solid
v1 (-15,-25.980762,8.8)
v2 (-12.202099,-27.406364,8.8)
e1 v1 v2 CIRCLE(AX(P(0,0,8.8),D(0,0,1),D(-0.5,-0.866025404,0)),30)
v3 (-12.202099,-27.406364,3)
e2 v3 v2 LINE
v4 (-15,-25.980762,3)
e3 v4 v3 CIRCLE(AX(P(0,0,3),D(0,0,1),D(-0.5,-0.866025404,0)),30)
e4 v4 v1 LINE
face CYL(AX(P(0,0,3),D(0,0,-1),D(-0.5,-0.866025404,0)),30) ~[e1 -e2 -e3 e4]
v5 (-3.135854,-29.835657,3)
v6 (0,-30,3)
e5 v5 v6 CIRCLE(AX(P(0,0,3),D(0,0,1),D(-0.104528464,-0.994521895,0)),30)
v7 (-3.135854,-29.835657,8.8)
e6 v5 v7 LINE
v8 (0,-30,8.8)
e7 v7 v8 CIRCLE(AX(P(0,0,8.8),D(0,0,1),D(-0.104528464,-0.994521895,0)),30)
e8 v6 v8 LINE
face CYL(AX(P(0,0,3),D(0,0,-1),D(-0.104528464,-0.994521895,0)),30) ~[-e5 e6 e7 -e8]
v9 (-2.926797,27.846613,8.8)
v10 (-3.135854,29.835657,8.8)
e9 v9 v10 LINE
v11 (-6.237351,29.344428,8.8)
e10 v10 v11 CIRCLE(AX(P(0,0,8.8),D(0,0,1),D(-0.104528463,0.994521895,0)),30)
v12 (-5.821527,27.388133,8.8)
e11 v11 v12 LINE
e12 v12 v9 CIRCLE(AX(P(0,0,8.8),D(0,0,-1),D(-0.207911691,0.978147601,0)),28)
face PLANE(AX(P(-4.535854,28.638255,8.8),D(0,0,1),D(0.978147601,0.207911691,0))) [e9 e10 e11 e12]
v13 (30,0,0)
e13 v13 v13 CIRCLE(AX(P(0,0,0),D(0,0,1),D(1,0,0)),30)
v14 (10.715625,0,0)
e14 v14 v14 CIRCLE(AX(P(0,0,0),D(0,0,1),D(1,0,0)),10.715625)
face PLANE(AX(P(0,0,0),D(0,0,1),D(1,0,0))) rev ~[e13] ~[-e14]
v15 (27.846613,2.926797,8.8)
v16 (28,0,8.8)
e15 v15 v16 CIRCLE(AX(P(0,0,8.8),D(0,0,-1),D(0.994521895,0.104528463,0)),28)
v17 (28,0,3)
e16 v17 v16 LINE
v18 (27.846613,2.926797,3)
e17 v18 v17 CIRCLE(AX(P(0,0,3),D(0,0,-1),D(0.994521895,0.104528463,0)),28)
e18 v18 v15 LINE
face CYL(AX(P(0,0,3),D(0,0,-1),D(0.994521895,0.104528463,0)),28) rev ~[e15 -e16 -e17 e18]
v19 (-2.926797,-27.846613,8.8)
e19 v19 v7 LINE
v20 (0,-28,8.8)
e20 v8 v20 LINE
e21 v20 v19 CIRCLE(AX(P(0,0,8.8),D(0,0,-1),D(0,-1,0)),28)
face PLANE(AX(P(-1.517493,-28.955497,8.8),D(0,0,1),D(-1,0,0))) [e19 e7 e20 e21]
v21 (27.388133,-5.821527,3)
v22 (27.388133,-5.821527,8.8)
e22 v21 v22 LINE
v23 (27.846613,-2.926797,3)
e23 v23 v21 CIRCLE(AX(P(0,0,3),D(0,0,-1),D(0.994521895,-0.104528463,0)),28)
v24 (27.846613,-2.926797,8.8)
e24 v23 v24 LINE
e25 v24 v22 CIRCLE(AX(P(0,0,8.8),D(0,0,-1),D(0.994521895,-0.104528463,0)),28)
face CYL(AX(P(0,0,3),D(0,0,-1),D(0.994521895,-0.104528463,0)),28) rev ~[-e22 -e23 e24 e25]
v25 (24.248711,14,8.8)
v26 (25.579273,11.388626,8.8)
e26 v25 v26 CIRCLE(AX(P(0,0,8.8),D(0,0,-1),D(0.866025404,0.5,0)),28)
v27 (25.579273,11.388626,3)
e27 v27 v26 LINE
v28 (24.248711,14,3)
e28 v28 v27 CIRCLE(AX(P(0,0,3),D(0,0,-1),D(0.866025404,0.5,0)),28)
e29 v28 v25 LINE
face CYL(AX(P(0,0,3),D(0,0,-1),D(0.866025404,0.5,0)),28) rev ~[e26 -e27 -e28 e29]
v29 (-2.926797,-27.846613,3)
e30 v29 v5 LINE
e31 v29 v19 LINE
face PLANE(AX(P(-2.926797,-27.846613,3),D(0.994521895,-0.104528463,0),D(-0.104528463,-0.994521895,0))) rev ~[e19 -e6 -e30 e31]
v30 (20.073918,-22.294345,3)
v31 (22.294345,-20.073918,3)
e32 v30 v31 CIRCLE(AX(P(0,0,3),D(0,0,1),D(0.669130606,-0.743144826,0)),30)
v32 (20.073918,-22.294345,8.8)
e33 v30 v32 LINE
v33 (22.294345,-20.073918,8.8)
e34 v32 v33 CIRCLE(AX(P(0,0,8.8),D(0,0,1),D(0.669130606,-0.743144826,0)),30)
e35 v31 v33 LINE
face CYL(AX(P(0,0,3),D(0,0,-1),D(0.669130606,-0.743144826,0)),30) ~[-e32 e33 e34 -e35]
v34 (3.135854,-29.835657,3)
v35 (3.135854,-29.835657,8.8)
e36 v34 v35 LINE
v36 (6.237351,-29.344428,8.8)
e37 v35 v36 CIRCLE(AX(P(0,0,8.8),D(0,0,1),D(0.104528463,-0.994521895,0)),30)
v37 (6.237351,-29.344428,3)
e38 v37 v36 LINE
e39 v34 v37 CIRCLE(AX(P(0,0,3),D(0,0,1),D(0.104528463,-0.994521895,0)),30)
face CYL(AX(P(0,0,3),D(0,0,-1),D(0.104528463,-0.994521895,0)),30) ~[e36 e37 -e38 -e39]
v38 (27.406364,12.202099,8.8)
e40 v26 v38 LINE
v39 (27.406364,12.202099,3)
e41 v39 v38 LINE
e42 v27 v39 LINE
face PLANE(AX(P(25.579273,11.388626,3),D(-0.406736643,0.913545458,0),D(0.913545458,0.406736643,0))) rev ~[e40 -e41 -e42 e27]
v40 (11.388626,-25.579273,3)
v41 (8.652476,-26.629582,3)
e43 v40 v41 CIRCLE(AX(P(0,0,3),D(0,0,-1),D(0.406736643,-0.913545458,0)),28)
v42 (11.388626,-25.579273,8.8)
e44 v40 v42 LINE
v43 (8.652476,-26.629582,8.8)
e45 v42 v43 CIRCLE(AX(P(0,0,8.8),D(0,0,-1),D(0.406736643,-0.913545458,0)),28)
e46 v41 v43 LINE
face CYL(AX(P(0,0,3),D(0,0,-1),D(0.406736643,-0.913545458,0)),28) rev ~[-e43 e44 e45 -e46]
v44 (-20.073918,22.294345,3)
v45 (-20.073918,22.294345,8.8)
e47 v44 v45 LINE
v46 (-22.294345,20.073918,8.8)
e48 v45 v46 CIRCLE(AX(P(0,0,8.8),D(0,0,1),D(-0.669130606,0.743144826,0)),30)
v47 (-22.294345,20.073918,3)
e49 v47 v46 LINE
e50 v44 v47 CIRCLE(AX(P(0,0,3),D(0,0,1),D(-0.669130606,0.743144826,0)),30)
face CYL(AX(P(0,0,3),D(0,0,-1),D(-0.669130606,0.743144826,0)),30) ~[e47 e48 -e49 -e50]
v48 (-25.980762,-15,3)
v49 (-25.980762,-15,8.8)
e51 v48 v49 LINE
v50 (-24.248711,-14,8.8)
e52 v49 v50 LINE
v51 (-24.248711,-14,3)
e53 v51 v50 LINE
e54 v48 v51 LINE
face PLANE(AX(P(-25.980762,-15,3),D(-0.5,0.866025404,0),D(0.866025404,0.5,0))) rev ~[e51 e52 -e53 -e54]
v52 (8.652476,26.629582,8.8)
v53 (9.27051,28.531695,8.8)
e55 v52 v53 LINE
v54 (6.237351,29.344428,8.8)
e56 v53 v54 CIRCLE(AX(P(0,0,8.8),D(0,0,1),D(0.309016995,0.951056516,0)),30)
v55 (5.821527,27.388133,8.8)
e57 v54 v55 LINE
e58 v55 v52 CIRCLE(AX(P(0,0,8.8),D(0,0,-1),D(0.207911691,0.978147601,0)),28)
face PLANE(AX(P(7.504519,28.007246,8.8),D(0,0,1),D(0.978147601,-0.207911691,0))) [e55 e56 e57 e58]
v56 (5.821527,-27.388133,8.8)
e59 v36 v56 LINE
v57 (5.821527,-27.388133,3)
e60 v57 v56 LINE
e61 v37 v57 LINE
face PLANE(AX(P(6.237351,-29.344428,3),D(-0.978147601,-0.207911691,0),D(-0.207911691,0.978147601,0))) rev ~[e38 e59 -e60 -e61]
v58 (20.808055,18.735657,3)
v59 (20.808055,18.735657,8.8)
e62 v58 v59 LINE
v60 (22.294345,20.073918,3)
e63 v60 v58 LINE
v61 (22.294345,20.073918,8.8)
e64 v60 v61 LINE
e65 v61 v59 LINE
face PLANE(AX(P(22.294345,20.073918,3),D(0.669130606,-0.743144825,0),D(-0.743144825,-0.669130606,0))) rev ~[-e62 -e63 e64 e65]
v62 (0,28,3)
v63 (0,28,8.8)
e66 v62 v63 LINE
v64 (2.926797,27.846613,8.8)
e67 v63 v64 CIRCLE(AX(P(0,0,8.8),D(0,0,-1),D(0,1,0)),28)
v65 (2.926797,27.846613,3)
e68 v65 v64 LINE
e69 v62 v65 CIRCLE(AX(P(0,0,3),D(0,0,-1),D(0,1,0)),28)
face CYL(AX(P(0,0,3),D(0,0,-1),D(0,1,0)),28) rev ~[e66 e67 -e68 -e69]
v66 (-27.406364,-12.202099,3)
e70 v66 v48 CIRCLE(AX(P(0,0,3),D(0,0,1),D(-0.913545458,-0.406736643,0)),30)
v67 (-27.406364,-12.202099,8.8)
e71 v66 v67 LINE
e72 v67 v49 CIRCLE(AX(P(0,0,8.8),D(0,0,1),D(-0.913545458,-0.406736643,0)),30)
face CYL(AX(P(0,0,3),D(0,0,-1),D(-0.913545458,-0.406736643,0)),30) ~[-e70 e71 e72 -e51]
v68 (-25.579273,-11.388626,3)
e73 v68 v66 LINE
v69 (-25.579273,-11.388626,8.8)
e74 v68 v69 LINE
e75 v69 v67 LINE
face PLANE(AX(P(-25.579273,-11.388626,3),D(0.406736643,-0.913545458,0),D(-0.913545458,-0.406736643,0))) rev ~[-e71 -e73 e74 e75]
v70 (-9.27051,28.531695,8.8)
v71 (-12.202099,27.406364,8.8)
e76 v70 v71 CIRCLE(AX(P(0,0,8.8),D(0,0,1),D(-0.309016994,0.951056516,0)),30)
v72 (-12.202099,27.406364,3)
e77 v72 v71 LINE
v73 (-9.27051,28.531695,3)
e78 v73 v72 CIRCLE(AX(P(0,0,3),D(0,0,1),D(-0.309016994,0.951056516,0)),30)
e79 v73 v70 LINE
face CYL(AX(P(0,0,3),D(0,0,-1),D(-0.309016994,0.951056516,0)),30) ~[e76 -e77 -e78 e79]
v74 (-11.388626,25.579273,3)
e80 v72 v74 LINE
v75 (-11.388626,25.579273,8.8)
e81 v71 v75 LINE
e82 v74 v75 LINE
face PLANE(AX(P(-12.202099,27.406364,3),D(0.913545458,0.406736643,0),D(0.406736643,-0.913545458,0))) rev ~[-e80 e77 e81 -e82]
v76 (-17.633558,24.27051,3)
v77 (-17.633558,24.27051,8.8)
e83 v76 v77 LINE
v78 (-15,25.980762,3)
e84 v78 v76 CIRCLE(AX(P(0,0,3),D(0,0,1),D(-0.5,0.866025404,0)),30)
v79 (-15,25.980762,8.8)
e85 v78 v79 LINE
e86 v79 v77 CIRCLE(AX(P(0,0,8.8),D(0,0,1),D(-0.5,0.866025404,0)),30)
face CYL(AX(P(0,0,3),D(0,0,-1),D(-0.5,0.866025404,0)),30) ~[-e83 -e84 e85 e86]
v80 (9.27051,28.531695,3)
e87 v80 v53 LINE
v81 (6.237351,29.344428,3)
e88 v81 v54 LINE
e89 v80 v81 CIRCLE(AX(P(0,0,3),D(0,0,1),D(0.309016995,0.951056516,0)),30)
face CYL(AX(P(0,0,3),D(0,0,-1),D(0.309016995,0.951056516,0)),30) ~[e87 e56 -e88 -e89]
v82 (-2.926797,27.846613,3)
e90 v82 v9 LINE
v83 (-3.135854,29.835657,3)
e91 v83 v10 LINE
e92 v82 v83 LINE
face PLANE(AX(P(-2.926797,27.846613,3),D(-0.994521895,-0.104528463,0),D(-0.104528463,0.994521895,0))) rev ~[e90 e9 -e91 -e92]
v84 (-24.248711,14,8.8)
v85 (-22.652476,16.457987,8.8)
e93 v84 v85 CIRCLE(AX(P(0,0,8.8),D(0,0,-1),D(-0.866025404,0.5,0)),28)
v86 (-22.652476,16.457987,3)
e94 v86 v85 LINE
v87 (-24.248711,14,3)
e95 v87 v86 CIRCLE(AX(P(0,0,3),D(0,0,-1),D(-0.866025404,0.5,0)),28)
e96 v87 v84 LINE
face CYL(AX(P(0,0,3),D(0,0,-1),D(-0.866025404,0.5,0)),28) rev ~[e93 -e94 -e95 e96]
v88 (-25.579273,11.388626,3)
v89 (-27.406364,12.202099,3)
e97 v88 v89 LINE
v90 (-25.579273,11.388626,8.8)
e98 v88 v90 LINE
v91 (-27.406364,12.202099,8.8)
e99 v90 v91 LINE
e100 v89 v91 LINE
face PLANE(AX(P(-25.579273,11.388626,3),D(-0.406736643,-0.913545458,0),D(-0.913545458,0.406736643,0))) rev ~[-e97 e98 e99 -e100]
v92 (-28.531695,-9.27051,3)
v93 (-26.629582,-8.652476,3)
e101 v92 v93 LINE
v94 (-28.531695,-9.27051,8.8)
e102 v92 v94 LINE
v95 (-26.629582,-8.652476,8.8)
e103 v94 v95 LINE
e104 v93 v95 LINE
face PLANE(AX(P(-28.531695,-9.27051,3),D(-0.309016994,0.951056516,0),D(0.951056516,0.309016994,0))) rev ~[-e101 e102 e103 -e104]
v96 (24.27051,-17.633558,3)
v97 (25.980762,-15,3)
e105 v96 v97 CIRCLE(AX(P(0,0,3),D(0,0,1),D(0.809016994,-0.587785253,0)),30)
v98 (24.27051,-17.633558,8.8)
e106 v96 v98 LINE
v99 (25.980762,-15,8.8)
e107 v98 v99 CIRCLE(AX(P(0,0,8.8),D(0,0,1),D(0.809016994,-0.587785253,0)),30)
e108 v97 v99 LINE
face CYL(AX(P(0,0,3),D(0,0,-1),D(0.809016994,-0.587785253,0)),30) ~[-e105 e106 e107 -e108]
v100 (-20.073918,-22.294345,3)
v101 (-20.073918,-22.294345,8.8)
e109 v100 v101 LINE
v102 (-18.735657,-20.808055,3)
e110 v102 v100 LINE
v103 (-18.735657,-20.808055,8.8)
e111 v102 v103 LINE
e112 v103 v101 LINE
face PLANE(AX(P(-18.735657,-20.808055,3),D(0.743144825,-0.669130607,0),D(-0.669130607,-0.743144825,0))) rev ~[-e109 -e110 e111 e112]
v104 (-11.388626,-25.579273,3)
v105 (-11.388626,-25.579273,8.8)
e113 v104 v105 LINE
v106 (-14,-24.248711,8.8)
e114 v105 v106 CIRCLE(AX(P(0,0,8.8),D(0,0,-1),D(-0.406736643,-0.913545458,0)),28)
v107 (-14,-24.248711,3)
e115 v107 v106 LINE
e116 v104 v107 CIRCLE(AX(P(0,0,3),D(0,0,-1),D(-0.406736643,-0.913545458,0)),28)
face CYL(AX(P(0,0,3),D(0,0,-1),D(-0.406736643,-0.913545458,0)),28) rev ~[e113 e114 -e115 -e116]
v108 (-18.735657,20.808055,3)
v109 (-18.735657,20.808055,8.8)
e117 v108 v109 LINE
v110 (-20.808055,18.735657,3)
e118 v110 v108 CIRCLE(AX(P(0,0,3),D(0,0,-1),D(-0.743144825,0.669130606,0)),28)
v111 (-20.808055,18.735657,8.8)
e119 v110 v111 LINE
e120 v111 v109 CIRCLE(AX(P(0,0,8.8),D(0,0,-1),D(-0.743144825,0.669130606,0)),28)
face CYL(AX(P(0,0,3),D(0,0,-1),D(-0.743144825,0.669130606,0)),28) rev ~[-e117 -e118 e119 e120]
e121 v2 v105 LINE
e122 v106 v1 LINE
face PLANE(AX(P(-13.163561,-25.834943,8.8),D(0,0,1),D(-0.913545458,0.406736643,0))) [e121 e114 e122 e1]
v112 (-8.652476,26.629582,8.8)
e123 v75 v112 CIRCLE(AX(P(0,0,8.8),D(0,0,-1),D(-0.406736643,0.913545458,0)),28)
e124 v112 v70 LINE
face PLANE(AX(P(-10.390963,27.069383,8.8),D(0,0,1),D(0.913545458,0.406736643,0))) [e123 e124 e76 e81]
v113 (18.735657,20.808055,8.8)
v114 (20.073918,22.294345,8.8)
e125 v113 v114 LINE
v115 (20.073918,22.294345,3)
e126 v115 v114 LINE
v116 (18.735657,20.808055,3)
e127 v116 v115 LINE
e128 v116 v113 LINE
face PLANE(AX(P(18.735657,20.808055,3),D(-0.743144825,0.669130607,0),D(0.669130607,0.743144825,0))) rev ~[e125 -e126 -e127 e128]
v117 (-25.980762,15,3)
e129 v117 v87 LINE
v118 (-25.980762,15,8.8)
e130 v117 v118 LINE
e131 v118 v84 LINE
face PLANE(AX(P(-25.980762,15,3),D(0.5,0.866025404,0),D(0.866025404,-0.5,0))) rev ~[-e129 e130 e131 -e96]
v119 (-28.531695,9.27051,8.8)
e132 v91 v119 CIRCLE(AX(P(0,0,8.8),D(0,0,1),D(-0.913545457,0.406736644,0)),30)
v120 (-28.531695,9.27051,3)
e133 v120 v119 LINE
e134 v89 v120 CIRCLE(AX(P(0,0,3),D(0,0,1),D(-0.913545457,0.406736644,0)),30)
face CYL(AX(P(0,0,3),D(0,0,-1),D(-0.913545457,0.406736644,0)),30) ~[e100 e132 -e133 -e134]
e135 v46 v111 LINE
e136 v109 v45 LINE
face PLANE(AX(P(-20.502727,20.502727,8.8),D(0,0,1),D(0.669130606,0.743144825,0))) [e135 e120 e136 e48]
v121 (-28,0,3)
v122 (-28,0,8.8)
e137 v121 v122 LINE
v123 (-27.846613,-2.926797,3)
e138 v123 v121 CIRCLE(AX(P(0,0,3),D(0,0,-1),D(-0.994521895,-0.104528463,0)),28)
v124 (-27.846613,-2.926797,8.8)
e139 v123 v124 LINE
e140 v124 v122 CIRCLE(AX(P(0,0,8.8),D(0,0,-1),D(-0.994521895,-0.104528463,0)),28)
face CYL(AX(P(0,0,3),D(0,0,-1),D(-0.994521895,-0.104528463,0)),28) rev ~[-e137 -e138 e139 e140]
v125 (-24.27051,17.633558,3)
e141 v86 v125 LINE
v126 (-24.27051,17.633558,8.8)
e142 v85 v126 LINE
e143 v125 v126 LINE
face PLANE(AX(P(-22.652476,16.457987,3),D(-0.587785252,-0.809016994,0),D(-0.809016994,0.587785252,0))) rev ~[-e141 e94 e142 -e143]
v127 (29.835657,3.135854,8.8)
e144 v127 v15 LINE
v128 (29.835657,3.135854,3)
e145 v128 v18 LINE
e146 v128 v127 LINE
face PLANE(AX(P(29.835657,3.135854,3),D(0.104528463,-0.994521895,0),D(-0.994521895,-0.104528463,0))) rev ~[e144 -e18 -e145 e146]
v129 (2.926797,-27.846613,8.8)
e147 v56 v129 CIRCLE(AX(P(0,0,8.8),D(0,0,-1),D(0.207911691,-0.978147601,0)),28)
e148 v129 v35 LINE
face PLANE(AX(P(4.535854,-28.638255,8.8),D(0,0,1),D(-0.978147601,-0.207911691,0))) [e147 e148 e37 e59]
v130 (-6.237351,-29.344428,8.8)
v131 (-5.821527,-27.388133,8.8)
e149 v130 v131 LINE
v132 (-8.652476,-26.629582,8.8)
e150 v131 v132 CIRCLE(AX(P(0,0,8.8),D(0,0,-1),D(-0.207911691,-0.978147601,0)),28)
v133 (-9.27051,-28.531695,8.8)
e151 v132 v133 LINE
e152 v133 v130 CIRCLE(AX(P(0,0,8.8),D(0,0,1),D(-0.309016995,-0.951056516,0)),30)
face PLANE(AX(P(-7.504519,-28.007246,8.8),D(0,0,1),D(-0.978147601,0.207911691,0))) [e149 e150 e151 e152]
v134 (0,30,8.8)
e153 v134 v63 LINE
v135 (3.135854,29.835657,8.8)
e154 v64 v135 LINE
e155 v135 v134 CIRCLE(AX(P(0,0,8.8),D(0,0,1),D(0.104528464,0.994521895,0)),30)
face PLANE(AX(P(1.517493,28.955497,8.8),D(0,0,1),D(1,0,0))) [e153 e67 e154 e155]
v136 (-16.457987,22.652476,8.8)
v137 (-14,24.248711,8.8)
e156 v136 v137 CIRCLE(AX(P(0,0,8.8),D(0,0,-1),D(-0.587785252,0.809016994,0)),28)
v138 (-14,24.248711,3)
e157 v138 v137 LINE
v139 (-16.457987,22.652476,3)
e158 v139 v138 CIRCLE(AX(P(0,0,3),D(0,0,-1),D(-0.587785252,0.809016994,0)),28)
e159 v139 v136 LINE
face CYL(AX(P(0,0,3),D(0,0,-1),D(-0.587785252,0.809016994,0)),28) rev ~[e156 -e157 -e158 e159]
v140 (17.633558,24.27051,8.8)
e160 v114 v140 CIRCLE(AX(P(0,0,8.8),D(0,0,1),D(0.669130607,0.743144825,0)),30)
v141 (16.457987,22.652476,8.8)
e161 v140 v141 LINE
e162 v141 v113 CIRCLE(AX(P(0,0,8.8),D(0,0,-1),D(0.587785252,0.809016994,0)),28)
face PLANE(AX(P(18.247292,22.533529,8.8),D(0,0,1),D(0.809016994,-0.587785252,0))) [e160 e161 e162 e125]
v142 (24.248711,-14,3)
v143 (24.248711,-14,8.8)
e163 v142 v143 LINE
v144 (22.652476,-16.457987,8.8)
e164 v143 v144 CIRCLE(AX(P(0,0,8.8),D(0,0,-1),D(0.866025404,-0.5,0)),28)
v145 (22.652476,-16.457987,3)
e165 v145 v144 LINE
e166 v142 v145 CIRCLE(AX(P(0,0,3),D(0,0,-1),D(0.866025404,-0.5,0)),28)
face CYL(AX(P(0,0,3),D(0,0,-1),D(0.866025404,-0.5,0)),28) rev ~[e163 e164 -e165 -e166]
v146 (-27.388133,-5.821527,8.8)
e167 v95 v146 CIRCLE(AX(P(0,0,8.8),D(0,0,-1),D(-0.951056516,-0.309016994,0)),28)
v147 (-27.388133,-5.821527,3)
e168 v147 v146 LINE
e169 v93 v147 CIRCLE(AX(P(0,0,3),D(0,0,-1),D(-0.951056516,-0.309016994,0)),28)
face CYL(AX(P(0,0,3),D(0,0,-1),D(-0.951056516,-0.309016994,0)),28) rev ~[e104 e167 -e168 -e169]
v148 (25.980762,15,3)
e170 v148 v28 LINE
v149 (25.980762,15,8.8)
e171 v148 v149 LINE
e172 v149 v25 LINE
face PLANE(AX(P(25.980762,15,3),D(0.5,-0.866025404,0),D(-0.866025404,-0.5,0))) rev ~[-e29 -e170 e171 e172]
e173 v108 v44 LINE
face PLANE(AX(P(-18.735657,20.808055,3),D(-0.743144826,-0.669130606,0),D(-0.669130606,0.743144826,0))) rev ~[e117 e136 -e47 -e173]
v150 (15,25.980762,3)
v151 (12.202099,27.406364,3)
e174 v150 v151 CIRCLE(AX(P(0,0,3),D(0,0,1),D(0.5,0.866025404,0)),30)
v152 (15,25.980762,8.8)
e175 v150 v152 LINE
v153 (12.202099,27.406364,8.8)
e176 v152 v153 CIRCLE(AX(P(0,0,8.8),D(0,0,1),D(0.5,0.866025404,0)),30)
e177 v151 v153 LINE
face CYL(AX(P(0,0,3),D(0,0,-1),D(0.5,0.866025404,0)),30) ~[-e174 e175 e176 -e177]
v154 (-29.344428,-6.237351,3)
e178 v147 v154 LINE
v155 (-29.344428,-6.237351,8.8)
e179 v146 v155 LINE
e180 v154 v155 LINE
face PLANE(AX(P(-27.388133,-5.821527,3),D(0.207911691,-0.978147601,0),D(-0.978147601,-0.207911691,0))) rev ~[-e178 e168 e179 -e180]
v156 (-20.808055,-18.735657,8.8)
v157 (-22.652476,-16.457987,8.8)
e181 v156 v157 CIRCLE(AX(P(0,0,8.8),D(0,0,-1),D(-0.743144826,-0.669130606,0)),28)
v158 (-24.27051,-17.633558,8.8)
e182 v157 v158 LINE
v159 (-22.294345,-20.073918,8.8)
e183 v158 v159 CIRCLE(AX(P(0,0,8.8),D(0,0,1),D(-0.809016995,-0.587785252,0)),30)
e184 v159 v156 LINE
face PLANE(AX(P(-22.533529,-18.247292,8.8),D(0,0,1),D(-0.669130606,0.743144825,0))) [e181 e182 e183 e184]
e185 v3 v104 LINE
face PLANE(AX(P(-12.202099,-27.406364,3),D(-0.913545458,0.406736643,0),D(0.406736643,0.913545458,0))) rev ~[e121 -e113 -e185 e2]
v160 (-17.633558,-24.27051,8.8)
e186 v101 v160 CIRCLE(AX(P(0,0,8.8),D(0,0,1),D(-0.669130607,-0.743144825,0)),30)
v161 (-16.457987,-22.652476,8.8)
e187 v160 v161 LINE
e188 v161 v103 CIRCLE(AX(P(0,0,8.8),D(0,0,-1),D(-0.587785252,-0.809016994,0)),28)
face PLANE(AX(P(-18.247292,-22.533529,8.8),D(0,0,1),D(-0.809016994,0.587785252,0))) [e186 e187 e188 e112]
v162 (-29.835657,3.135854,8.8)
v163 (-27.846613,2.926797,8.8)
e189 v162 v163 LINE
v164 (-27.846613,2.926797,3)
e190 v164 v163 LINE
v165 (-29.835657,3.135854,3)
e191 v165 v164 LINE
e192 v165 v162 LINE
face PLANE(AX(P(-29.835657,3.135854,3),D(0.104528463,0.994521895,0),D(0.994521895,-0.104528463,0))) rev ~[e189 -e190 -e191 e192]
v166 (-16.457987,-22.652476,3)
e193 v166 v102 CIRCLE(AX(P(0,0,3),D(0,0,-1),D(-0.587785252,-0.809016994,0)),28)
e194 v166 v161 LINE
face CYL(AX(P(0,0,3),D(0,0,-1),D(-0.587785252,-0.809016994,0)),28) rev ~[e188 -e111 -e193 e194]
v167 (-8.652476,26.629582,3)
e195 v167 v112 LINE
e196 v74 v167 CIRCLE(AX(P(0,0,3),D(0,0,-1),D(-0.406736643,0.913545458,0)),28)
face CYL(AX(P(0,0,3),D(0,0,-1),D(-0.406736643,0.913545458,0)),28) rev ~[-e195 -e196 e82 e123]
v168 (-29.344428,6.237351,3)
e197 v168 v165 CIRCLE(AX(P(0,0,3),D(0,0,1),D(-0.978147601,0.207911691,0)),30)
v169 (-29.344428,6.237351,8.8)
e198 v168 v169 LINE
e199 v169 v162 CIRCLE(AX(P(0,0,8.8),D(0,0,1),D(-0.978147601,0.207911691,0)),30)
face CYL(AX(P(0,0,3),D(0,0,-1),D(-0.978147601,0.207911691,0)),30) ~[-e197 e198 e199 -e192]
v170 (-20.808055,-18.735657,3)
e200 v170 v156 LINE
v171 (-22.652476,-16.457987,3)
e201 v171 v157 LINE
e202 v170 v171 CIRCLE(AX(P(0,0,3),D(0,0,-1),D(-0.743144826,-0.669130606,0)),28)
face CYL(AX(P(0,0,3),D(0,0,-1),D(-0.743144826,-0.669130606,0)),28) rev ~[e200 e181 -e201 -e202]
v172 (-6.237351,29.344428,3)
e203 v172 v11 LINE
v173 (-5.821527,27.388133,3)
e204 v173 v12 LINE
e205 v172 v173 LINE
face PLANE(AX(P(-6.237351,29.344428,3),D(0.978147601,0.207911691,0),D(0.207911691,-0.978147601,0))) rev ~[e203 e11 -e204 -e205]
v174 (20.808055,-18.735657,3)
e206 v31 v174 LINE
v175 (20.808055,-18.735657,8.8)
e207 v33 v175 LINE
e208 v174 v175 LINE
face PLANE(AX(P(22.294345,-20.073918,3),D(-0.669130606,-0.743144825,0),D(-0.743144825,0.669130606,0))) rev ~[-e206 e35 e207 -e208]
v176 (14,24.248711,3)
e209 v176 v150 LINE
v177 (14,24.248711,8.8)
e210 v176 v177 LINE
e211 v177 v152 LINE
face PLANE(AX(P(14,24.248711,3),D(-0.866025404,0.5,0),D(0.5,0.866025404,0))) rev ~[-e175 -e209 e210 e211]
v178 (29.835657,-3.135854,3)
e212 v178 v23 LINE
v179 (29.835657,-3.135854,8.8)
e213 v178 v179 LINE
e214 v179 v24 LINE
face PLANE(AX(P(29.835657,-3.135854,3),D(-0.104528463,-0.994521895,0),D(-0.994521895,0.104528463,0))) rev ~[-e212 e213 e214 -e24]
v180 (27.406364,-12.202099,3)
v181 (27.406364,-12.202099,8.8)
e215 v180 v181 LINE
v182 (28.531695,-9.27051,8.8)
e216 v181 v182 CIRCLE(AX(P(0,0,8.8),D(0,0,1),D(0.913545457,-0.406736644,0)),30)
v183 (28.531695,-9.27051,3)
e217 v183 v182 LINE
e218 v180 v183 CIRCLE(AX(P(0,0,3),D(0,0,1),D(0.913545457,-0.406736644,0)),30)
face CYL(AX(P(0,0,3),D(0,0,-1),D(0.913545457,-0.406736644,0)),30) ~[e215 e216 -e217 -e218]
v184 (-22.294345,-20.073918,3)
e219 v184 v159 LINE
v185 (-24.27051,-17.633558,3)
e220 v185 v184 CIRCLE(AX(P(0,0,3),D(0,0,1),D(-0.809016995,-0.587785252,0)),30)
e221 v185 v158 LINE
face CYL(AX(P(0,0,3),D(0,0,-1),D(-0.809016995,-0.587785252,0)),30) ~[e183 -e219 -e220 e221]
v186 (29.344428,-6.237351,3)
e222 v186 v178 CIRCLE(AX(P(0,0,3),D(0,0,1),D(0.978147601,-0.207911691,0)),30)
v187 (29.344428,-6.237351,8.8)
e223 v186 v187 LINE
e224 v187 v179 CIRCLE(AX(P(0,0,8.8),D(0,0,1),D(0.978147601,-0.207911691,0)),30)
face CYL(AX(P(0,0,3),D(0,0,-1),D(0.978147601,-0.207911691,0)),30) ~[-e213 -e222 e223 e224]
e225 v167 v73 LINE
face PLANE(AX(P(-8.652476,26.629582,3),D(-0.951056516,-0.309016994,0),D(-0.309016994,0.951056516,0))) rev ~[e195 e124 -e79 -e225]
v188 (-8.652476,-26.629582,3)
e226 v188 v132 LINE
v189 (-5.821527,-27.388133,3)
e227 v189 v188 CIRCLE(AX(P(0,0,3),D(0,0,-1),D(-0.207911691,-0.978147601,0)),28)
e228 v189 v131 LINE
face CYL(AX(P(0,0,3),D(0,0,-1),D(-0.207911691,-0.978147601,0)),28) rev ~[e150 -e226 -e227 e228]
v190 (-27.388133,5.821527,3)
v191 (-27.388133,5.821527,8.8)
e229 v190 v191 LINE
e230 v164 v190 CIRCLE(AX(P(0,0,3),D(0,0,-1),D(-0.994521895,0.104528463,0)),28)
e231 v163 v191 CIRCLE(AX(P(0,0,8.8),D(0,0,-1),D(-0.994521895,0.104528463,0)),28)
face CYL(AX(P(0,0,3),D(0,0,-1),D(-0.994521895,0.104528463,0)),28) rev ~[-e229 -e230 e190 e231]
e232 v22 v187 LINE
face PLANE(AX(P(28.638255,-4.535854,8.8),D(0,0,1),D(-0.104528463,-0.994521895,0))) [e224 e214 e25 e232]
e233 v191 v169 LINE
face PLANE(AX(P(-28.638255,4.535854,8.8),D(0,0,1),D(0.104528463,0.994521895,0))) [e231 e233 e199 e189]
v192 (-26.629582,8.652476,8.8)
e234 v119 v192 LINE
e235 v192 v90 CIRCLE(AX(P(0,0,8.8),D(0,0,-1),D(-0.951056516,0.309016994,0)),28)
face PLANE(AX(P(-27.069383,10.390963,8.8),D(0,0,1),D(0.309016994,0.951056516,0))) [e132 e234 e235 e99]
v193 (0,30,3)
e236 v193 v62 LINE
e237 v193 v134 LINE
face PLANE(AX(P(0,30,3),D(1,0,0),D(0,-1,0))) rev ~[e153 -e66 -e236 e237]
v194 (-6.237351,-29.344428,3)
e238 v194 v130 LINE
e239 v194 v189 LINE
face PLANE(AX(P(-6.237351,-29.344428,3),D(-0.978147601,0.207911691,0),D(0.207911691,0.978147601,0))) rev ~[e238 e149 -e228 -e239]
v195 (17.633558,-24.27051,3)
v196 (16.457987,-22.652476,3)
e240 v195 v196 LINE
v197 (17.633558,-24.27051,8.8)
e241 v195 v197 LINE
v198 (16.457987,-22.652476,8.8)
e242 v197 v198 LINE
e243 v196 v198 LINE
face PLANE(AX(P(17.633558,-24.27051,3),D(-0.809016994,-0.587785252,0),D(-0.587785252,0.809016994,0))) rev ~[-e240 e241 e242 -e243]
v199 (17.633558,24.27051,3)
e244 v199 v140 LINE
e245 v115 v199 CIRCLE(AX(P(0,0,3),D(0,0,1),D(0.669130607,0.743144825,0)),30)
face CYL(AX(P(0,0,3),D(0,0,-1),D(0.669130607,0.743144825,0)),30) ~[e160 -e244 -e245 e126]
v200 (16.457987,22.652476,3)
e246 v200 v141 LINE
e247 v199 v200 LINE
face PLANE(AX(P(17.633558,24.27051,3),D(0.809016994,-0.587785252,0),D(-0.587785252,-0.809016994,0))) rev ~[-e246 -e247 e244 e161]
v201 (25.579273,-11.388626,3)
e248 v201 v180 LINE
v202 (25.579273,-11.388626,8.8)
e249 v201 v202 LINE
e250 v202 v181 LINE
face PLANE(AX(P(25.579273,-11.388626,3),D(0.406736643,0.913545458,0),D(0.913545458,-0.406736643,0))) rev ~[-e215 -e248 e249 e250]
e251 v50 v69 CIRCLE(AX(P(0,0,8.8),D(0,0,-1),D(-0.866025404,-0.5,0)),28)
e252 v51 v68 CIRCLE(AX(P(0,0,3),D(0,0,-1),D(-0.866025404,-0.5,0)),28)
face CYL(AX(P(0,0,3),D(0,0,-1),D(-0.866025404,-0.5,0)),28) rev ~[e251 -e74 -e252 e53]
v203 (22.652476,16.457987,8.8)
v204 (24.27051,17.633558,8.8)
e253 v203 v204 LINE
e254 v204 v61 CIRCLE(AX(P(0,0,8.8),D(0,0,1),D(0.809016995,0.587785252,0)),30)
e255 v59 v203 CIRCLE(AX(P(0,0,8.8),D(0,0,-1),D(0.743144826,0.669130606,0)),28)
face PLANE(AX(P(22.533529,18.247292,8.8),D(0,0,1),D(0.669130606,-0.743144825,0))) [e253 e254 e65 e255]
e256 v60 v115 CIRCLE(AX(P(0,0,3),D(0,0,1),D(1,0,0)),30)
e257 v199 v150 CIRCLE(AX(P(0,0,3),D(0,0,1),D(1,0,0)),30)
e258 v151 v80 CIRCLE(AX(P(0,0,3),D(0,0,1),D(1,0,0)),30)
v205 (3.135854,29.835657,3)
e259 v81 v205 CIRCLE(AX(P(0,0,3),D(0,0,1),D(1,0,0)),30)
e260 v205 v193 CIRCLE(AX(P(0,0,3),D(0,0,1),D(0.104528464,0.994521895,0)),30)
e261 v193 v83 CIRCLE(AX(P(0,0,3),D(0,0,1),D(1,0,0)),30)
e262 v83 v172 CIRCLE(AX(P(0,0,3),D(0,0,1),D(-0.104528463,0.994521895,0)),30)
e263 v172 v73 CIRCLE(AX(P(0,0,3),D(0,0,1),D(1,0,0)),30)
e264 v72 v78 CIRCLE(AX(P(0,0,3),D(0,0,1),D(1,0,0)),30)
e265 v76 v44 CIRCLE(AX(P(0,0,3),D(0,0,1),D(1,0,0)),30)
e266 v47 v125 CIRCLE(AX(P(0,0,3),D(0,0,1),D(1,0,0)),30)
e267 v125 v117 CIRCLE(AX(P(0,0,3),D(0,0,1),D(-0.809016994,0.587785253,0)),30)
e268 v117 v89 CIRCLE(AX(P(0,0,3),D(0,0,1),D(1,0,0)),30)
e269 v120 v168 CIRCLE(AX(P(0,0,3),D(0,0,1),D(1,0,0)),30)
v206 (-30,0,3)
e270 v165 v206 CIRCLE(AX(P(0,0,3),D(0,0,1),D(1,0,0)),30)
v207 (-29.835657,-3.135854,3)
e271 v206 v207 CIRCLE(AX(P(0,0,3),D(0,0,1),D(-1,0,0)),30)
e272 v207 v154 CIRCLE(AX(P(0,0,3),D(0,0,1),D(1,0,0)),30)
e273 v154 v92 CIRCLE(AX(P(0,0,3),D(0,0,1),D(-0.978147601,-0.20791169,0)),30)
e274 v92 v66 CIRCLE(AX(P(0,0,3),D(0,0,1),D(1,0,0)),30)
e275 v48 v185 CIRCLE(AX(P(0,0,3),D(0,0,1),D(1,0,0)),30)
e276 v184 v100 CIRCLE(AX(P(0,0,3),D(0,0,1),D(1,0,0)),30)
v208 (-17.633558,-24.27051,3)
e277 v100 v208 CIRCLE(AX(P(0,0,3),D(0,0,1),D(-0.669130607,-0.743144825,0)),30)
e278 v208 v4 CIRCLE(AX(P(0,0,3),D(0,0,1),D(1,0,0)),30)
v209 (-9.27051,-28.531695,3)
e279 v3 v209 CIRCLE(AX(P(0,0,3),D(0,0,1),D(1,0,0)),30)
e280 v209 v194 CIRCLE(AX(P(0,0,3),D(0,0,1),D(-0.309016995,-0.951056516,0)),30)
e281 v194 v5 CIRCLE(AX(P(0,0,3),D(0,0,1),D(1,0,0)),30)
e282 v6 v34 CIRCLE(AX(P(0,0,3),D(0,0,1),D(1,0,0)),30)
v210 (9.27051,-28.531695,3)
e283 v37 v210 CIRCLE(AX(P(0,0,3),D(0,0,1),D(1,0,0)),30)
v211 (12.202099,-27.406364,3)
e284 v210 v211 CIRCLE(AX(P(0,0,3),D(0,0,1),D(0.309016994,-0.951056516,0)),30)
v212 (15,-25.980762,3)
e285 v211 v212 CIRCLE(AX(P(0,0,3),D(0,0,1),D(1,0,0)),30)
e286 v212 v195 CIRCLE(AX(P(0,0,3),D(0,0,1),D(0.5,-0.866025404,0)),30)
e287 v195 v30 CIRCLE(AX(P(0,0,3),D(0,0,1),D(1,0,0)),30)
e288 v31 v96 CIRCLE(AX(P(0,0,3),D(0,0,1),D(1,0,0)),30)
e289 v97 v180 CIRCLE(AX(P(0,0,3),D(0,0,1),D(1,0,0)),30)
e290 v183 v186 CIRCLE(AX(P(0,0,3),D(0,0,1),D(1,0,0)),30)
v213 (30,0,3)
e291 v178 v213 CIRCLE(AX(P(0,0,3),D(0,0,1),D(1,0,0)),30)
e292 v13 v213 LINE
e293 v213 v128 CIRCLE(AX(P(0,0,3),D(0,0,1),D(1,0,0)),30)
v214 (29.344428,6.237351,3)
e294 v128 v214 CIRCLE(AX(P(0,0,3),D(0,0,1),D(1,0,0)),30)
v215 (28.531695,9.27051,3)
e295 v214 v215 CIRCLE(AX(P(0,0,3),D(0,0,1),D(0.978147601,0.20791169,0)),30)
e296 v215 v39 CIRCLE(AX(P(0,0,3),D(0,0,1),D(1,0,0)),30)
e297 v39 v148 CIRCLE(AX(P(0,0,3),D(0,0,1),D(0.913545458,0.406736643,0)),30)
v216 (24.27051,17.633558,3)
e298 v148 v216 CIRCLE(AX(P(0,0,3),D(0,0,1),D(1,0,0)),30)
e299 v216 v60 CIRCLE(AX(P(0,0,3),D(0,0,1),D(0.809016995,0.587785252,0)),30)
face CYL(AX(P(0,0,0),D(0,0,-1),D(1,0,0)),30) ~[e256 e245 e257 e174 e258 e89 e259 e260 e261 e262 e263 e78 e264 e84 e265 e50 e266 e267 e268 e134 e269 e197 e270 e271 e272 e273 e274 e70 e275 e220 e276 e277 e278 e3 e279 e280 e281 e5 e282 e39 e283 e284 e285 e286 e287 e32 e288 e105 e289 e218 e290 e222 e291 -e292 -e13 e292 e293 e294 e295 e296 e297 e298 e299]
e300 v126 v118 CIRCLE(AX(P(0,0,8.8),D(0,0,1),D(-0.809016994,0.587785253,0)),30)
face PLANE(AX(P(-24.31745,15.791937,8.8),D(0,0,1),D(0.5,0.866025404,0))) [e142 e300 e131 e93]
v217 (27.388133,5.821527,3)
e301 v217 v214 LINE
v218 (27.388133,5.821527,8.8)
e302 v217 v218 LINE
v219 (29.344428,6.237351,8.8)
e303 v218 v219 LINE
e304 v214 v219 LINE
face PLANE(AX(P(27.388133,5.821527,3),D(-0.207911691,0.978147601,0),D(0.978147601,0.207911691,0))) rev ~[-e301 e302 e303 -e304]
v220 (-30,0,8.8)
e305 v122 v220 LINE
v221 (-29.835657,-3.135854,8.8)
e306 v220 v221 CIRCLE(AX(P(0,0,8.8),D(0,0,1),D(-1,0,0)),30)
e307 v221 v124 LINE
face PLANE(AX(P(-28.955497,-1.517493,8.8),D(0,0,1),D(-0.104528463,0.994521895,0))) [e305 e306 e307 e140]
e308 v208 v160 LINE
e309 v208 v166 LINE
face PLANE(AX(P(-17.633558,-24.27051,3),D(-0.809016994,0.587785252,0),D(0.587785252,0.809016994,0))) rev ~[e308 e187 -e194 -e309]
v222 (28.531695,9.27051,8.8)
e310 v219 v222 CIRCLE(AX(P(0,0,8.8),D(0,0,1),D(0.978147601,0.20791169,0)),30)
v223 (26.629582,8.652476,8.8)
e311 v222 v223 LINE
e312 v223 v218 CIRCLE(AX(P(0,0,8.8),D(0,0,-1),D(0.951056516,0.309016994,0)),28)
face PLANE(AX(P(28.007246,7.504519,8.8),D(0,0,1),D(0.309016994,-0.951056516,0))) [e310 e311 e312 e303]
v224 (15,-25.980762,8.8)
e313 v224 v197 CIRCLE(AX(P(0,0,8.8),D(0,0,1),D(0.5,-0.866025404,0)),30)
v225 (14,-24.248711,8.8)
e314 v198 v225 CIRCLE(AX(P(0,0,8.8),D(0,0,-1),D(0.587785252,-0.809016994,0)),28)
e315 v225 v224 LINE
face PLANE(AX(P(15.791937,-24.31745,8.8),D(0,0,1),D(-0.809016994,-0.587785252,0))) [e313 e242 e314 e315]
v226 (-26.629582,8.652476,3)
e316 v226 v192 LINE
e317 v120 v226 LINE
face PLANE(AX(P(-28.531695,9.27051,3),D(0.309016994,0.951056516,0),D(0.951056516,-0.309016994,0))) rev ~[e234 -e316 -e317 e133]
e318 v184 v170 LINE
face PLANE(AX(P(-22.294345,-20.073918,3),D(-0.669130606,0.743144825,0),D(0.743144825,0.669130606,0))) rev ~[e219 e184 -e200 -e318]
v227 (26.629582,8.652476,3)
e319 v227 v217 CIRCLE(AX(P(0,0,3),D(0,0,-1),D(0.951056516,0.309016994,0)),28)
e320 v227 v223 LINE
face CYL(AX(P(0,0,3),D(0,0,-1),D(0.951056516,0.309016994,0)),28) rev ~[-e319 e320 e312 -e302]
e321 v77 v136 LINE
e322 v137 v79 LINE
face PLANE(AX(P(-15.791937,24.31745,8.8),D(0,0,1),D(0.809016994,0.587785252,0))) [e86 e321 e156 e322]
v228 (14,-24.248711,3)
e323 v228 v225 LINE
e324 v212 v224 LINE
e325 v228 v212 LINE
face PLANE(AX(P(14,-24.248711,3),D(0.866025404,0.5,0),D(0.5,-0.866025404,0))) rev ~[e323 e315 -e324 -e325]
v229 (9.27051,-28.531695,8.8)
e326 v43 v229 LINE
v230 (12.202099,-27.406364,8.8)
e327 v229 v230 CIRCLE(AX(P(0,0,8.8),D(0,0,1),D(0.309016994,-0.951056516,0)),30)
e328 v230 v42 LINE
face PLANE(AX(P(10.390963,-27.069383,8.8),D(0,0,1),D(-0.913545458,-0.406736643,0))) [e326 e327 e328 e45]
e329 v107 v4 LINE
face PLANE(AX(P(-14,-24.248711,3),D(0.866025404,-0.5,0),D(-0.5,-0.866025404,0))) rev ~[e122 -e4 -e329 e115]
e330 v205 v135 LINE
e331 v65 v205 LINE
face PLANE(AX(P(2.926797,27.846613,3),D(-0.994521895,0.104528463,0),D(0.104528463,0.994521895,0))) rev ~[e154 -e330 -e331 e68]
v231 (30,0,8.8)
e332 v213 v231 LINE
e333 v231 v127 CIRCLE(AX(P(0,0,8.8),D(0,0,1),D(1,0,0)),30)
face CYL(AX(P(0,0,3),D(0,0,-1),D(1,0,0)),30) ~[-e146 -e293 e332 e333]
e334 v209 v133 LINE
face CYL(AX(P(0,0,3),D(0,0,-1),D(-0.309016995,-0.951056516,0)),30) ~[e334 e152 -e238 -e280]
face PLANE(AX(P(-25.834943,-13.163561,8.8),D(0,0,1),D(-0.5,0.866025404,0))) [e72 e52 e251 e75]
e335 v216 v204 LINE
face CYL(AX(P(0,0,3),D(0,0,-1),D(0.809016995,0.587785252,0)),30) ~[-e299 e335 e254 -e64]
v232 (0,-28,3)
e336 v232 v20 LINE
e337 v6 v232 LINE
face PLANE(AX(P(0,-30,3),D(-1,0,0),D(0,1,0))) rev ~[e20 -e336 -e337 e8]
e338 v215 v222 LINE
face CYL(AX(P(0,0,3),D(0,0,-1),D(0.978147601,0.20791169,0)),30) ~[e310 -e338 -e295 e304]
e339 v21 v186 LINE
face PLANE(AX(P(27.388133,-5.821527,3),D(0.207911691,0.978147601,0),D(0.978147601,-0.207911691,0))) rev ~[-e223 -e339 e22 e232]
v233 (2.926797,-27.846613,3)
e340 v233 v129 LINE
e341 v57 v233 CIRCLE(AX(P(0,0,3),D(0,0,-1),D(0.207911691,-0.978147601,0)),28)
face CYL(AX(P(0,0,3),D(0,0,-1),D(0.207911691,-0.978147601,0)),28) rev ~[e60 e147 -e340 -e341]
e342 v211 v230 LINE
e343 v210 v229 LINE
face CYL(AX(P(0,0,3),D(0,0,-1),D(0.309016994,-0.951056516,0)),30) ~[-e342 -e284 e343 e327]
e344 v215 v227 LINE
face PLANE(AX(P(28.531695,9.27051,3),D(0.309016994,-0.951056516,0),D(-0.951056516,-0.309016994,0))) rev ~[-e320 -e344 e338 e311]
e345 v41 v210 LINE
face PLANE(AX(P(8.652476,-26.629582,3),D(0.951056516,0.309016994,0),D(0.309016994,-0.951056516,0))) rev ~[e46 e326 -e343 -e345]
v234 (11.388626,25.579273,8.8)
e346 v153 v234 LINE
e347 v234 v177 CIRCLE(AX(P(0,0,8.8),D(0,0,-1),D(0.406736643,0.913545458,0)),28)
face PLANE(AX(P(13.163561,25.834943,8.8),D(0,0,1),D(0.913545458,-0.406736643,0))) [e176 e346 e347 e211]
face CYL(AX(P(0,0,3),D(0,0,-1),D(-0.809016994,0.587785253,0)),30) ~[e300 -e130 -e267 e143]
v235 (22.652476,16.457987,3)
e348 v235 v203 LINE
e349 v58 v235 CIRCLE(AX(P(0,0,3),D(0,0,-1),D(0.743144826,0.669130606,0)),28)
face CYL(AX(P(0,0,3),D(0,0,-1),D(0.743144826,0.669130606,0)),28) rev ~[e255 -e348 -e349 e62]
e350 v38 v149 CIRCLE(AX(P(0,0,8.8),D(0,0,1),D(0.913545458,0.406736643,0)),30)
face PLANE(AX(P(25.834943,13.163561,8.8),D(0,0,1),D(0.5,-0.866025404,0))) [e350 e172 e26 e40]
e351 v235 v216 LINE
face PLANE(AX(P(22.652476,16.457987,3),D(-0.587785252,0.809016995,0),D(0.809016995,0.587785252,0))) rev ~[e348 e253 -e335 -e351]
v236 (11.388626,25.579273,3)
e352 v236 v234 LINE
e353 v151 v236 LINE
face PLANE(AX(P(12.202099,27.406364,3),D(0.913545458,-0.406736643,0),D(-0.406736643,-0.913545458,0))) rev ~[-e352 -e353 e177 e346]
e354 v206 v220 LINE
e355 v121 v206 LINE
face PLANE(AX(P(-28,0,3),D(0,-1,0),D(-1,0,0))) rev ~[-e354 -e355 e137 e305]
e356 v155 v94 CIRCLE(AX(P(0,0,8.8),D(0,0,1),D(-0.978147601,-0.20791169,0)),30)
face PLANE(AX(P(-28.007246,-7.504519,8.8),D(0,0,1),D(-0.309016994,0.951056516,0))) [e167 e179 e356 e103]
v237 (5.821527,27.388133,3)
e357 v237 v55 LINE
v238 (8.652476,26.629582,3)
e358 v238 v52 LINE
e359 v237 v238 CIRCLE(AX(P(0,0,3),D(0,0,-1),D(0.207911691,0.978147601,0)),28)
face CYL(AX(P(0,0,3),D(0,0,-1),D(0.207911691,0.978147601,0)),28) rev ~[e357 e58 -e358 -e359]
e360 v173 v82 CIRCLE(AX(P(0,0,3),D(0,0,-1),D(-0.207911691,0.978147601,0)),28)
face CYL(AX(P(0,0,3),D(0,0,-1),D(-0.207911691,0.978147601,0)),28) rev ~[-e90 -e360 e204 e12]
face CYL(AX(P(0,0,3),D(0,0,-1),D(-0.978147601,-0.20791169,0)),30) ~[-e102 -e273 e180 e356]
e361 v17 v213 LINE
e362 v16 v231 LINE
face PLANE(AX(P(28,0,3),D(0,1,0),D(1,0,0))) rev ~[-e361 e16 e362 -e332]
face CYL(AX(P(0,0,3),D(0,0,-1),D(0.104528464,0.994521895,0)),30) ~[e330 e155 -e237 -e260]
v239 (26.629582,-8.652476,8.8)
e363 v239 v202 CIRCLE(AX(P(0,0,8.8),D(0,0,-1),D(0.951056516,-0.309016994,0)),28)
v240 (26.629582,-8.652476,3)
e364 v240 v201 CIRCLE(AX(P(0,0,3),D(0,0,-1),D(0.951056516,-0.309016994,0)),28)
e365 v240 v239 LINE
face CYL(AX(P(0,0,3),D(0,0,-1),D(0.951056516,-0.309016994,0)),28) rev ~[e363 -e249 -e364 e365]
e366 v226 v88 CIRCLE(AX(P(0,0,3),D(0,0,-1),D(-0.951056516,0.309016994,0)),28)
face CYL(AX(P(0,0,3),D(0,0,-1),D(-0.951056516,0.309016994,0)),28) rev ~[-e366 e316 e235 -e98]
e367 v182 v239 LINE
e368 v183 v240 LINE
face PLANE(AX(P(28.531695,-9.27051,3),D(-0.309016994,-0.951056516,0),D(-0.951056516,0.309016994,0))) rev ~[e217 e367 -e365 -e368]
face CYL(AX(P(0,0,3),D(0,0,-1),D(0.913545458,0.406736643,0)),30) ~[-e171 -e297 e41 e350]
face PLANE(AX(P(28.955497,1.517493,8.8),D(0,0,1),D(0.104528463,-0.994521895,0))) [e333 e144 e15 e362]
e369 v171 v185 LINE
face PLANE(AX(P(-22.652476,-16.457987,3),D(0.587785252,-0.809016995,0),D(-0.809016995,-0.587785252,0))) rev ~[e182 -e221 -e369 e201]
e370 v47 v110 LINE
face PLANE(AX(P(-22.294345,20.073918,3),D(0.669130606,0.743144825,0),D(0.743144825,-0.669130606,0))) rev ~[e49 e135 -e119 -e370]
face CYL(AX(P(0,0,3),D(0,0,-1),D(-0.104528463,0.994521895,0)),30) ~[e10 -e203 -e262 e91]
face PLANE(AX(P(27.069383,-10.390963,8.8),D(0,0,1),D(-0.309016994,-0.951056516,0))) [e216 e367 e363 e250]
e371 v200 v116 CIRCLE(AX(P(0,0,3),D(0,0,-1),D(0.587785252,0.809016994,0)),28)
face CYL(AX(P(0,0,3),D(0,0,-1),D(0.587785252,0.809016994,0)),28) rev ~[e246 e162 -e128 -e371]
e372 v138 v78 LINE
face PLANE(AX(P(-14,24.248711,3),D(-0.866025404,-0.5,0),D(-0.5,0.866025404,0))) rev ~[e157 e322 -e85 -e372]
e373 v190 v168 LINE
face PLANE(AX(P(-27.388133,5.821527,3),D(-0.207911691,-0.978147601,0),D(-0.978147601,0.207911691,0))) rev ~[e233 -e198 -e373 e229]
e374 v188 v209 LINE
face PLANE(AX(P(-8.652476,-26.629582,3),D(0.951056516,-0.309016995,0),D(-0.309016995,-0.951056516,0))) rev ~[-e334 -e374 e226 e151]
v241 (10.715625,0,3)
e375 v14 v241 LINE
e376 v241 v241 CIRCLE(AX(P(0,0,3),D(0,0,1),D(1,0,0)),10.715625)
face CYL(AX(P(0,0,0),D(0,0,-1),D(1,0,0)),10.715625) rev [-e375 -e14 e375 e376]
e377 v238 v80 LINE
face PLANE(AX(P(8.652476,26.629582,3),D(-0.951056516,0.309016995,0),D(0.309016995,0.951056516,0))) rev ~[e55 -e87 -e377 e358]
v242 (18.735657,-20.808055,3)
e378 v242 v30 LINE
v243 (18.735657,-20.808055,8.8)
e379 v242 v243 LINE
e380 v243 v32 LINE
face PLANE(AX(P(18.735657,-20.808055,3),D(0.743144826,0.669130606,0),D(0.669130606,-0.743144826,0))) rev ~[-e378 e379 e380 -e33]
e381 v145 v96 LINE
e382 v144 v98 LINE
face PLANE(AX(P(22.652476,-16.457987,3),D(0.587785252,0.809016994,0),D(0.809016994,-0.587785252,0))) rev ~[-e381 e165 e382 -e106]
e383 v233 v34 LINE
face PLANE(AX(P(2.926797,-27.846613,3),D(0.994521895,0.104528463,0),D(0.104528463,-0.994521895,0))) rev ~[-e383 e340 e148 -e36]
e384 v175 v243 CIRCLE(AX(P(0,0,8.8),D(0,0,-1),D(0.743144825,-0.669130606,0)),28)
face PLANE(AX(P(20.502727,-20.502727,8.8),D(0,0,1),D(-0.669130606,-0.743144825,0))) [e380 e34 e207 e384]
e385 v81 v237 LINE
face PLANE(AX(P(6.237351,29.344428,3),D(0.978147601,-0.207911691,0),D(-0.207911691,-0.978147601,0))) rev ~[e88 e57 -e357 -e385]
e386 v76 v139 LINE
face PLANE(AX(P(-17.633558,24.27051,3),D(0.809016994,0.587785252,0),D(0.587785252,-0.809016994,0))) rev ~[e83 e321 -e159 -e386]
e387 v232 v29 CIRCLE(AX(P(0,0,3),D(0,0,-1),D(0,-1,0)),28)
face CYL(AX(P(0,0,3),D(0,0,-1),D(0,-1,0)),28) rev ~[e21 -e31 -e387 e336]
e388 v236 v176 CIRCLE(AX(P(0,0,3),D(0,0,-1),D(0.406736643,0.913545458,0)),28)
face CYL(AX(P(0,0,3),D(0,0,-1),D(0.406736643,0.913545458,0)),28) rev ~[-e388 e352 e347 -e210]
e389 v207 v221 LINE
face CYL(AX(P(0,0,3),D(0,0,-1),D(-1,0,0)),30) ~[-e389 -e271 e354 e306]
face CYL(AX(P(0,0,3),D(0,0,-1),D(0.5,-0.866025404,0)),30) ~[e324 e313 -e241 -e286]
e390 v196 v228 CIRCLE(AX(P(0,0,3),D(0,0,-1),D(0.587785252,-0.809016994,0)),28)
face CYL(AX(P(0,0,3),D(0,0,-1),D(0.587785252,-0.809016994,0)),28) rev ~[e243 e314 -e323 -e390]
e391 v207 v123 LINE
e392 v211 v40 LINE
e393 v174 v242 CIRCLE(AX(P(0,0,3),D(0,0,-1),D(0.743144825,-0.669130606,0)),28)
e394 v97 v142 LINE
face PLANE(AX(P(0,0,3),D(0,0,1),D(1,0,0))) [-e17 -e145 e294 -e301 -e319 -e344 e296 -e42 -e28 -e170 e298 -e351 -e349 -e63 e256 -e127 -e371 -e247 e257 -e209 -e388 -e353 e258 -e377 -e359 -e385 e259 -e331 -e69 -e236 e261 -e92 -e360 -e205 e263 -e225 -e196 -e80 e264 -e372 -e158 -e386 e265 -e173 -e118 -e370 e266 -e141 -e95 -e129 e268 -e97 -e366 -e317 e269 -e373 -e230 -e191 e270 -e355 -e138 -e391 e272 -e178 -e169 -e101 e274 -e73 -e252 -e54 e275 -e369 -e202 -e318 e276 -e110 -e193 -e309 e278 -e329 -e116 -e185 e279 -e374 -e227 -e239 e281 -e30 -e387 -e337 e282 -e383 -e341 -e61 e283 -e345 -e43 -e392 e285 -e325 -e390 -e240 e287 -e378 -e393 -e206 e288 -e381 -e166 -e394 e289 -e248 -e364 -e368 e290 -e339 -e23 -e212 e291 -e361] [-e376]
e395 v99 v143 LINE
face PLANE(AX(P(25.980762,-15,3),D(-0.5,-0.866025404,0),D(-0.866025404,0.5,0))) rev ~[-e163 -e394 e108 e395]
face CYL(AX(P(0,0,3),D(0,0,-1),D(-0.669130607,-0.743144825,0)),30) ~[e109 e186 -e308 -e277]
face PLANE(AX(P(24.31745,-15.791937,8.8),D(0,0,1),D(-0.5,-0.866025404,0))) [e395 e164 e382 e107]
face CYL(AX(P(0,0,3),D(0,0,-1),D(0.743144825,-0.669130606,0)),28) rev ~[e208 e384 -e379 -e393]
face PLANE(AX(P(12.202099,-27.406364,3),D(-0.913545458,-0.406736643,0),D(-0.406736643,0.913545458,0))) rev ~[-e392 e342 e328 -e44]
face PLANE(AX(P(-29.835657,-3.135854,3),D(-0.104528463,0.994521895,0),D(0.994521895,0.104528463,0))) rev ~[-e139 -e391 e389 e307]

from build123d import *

# Parameters (mm, degrees)
SKETCH1_R           = 30
SKETCH1_R_2         = 10.715625
BOSS_EXTRUDE1_DEPTH = 3
BOSS_EXTRUDE2_DEPTH = 5.8
CIRPATTERN1_COUNT   = 30


with BuildPart() as part:
    # Sketch1 → Boss-Extrude1 (new body)
    with BuildSketch(Plane.XY):
        Circle(SKETCH1_R)
        Circle(SKETCH1_R_2, mode=Mode.SUBTRACT)
    extrude(amount=BOSS_EXTRUDE1_DEPTH)

    # Sketch2 → Boss-Extrude2 (add)
    with BuildSketch(Plane.XY.offset(3)):
        with BuildLine():
            Line((0, 30), (0, 28))
            ThreePointArc((0, 28), (1.465406775, 27.961626973), (2.926796971, 27.84661307))
            Line((2.926796971, 27.84661307), (3.135853898, 29.835656861))
            ThreePointArc((3.135853898, 29.835656861), (1.570078687, 29.958886043), (0, 30))
        make_face()
    boss_extrude2 = extrude(amount=BOSS_EXTRUDE2_DEPTH)

    # CirPattern1: Boss-Extrude2 ×30 about axis
    cirpattern1_axis = Axis((0, 0, -106.639759077), (0, 0, 1))
    for i in range(1, CIRPATTERN1_COUNT):
        add(boss_extrude2.rotate(cirpattern1_axis, i * 360 / CIRPATTERN1_COUNT))


solid = part.part
